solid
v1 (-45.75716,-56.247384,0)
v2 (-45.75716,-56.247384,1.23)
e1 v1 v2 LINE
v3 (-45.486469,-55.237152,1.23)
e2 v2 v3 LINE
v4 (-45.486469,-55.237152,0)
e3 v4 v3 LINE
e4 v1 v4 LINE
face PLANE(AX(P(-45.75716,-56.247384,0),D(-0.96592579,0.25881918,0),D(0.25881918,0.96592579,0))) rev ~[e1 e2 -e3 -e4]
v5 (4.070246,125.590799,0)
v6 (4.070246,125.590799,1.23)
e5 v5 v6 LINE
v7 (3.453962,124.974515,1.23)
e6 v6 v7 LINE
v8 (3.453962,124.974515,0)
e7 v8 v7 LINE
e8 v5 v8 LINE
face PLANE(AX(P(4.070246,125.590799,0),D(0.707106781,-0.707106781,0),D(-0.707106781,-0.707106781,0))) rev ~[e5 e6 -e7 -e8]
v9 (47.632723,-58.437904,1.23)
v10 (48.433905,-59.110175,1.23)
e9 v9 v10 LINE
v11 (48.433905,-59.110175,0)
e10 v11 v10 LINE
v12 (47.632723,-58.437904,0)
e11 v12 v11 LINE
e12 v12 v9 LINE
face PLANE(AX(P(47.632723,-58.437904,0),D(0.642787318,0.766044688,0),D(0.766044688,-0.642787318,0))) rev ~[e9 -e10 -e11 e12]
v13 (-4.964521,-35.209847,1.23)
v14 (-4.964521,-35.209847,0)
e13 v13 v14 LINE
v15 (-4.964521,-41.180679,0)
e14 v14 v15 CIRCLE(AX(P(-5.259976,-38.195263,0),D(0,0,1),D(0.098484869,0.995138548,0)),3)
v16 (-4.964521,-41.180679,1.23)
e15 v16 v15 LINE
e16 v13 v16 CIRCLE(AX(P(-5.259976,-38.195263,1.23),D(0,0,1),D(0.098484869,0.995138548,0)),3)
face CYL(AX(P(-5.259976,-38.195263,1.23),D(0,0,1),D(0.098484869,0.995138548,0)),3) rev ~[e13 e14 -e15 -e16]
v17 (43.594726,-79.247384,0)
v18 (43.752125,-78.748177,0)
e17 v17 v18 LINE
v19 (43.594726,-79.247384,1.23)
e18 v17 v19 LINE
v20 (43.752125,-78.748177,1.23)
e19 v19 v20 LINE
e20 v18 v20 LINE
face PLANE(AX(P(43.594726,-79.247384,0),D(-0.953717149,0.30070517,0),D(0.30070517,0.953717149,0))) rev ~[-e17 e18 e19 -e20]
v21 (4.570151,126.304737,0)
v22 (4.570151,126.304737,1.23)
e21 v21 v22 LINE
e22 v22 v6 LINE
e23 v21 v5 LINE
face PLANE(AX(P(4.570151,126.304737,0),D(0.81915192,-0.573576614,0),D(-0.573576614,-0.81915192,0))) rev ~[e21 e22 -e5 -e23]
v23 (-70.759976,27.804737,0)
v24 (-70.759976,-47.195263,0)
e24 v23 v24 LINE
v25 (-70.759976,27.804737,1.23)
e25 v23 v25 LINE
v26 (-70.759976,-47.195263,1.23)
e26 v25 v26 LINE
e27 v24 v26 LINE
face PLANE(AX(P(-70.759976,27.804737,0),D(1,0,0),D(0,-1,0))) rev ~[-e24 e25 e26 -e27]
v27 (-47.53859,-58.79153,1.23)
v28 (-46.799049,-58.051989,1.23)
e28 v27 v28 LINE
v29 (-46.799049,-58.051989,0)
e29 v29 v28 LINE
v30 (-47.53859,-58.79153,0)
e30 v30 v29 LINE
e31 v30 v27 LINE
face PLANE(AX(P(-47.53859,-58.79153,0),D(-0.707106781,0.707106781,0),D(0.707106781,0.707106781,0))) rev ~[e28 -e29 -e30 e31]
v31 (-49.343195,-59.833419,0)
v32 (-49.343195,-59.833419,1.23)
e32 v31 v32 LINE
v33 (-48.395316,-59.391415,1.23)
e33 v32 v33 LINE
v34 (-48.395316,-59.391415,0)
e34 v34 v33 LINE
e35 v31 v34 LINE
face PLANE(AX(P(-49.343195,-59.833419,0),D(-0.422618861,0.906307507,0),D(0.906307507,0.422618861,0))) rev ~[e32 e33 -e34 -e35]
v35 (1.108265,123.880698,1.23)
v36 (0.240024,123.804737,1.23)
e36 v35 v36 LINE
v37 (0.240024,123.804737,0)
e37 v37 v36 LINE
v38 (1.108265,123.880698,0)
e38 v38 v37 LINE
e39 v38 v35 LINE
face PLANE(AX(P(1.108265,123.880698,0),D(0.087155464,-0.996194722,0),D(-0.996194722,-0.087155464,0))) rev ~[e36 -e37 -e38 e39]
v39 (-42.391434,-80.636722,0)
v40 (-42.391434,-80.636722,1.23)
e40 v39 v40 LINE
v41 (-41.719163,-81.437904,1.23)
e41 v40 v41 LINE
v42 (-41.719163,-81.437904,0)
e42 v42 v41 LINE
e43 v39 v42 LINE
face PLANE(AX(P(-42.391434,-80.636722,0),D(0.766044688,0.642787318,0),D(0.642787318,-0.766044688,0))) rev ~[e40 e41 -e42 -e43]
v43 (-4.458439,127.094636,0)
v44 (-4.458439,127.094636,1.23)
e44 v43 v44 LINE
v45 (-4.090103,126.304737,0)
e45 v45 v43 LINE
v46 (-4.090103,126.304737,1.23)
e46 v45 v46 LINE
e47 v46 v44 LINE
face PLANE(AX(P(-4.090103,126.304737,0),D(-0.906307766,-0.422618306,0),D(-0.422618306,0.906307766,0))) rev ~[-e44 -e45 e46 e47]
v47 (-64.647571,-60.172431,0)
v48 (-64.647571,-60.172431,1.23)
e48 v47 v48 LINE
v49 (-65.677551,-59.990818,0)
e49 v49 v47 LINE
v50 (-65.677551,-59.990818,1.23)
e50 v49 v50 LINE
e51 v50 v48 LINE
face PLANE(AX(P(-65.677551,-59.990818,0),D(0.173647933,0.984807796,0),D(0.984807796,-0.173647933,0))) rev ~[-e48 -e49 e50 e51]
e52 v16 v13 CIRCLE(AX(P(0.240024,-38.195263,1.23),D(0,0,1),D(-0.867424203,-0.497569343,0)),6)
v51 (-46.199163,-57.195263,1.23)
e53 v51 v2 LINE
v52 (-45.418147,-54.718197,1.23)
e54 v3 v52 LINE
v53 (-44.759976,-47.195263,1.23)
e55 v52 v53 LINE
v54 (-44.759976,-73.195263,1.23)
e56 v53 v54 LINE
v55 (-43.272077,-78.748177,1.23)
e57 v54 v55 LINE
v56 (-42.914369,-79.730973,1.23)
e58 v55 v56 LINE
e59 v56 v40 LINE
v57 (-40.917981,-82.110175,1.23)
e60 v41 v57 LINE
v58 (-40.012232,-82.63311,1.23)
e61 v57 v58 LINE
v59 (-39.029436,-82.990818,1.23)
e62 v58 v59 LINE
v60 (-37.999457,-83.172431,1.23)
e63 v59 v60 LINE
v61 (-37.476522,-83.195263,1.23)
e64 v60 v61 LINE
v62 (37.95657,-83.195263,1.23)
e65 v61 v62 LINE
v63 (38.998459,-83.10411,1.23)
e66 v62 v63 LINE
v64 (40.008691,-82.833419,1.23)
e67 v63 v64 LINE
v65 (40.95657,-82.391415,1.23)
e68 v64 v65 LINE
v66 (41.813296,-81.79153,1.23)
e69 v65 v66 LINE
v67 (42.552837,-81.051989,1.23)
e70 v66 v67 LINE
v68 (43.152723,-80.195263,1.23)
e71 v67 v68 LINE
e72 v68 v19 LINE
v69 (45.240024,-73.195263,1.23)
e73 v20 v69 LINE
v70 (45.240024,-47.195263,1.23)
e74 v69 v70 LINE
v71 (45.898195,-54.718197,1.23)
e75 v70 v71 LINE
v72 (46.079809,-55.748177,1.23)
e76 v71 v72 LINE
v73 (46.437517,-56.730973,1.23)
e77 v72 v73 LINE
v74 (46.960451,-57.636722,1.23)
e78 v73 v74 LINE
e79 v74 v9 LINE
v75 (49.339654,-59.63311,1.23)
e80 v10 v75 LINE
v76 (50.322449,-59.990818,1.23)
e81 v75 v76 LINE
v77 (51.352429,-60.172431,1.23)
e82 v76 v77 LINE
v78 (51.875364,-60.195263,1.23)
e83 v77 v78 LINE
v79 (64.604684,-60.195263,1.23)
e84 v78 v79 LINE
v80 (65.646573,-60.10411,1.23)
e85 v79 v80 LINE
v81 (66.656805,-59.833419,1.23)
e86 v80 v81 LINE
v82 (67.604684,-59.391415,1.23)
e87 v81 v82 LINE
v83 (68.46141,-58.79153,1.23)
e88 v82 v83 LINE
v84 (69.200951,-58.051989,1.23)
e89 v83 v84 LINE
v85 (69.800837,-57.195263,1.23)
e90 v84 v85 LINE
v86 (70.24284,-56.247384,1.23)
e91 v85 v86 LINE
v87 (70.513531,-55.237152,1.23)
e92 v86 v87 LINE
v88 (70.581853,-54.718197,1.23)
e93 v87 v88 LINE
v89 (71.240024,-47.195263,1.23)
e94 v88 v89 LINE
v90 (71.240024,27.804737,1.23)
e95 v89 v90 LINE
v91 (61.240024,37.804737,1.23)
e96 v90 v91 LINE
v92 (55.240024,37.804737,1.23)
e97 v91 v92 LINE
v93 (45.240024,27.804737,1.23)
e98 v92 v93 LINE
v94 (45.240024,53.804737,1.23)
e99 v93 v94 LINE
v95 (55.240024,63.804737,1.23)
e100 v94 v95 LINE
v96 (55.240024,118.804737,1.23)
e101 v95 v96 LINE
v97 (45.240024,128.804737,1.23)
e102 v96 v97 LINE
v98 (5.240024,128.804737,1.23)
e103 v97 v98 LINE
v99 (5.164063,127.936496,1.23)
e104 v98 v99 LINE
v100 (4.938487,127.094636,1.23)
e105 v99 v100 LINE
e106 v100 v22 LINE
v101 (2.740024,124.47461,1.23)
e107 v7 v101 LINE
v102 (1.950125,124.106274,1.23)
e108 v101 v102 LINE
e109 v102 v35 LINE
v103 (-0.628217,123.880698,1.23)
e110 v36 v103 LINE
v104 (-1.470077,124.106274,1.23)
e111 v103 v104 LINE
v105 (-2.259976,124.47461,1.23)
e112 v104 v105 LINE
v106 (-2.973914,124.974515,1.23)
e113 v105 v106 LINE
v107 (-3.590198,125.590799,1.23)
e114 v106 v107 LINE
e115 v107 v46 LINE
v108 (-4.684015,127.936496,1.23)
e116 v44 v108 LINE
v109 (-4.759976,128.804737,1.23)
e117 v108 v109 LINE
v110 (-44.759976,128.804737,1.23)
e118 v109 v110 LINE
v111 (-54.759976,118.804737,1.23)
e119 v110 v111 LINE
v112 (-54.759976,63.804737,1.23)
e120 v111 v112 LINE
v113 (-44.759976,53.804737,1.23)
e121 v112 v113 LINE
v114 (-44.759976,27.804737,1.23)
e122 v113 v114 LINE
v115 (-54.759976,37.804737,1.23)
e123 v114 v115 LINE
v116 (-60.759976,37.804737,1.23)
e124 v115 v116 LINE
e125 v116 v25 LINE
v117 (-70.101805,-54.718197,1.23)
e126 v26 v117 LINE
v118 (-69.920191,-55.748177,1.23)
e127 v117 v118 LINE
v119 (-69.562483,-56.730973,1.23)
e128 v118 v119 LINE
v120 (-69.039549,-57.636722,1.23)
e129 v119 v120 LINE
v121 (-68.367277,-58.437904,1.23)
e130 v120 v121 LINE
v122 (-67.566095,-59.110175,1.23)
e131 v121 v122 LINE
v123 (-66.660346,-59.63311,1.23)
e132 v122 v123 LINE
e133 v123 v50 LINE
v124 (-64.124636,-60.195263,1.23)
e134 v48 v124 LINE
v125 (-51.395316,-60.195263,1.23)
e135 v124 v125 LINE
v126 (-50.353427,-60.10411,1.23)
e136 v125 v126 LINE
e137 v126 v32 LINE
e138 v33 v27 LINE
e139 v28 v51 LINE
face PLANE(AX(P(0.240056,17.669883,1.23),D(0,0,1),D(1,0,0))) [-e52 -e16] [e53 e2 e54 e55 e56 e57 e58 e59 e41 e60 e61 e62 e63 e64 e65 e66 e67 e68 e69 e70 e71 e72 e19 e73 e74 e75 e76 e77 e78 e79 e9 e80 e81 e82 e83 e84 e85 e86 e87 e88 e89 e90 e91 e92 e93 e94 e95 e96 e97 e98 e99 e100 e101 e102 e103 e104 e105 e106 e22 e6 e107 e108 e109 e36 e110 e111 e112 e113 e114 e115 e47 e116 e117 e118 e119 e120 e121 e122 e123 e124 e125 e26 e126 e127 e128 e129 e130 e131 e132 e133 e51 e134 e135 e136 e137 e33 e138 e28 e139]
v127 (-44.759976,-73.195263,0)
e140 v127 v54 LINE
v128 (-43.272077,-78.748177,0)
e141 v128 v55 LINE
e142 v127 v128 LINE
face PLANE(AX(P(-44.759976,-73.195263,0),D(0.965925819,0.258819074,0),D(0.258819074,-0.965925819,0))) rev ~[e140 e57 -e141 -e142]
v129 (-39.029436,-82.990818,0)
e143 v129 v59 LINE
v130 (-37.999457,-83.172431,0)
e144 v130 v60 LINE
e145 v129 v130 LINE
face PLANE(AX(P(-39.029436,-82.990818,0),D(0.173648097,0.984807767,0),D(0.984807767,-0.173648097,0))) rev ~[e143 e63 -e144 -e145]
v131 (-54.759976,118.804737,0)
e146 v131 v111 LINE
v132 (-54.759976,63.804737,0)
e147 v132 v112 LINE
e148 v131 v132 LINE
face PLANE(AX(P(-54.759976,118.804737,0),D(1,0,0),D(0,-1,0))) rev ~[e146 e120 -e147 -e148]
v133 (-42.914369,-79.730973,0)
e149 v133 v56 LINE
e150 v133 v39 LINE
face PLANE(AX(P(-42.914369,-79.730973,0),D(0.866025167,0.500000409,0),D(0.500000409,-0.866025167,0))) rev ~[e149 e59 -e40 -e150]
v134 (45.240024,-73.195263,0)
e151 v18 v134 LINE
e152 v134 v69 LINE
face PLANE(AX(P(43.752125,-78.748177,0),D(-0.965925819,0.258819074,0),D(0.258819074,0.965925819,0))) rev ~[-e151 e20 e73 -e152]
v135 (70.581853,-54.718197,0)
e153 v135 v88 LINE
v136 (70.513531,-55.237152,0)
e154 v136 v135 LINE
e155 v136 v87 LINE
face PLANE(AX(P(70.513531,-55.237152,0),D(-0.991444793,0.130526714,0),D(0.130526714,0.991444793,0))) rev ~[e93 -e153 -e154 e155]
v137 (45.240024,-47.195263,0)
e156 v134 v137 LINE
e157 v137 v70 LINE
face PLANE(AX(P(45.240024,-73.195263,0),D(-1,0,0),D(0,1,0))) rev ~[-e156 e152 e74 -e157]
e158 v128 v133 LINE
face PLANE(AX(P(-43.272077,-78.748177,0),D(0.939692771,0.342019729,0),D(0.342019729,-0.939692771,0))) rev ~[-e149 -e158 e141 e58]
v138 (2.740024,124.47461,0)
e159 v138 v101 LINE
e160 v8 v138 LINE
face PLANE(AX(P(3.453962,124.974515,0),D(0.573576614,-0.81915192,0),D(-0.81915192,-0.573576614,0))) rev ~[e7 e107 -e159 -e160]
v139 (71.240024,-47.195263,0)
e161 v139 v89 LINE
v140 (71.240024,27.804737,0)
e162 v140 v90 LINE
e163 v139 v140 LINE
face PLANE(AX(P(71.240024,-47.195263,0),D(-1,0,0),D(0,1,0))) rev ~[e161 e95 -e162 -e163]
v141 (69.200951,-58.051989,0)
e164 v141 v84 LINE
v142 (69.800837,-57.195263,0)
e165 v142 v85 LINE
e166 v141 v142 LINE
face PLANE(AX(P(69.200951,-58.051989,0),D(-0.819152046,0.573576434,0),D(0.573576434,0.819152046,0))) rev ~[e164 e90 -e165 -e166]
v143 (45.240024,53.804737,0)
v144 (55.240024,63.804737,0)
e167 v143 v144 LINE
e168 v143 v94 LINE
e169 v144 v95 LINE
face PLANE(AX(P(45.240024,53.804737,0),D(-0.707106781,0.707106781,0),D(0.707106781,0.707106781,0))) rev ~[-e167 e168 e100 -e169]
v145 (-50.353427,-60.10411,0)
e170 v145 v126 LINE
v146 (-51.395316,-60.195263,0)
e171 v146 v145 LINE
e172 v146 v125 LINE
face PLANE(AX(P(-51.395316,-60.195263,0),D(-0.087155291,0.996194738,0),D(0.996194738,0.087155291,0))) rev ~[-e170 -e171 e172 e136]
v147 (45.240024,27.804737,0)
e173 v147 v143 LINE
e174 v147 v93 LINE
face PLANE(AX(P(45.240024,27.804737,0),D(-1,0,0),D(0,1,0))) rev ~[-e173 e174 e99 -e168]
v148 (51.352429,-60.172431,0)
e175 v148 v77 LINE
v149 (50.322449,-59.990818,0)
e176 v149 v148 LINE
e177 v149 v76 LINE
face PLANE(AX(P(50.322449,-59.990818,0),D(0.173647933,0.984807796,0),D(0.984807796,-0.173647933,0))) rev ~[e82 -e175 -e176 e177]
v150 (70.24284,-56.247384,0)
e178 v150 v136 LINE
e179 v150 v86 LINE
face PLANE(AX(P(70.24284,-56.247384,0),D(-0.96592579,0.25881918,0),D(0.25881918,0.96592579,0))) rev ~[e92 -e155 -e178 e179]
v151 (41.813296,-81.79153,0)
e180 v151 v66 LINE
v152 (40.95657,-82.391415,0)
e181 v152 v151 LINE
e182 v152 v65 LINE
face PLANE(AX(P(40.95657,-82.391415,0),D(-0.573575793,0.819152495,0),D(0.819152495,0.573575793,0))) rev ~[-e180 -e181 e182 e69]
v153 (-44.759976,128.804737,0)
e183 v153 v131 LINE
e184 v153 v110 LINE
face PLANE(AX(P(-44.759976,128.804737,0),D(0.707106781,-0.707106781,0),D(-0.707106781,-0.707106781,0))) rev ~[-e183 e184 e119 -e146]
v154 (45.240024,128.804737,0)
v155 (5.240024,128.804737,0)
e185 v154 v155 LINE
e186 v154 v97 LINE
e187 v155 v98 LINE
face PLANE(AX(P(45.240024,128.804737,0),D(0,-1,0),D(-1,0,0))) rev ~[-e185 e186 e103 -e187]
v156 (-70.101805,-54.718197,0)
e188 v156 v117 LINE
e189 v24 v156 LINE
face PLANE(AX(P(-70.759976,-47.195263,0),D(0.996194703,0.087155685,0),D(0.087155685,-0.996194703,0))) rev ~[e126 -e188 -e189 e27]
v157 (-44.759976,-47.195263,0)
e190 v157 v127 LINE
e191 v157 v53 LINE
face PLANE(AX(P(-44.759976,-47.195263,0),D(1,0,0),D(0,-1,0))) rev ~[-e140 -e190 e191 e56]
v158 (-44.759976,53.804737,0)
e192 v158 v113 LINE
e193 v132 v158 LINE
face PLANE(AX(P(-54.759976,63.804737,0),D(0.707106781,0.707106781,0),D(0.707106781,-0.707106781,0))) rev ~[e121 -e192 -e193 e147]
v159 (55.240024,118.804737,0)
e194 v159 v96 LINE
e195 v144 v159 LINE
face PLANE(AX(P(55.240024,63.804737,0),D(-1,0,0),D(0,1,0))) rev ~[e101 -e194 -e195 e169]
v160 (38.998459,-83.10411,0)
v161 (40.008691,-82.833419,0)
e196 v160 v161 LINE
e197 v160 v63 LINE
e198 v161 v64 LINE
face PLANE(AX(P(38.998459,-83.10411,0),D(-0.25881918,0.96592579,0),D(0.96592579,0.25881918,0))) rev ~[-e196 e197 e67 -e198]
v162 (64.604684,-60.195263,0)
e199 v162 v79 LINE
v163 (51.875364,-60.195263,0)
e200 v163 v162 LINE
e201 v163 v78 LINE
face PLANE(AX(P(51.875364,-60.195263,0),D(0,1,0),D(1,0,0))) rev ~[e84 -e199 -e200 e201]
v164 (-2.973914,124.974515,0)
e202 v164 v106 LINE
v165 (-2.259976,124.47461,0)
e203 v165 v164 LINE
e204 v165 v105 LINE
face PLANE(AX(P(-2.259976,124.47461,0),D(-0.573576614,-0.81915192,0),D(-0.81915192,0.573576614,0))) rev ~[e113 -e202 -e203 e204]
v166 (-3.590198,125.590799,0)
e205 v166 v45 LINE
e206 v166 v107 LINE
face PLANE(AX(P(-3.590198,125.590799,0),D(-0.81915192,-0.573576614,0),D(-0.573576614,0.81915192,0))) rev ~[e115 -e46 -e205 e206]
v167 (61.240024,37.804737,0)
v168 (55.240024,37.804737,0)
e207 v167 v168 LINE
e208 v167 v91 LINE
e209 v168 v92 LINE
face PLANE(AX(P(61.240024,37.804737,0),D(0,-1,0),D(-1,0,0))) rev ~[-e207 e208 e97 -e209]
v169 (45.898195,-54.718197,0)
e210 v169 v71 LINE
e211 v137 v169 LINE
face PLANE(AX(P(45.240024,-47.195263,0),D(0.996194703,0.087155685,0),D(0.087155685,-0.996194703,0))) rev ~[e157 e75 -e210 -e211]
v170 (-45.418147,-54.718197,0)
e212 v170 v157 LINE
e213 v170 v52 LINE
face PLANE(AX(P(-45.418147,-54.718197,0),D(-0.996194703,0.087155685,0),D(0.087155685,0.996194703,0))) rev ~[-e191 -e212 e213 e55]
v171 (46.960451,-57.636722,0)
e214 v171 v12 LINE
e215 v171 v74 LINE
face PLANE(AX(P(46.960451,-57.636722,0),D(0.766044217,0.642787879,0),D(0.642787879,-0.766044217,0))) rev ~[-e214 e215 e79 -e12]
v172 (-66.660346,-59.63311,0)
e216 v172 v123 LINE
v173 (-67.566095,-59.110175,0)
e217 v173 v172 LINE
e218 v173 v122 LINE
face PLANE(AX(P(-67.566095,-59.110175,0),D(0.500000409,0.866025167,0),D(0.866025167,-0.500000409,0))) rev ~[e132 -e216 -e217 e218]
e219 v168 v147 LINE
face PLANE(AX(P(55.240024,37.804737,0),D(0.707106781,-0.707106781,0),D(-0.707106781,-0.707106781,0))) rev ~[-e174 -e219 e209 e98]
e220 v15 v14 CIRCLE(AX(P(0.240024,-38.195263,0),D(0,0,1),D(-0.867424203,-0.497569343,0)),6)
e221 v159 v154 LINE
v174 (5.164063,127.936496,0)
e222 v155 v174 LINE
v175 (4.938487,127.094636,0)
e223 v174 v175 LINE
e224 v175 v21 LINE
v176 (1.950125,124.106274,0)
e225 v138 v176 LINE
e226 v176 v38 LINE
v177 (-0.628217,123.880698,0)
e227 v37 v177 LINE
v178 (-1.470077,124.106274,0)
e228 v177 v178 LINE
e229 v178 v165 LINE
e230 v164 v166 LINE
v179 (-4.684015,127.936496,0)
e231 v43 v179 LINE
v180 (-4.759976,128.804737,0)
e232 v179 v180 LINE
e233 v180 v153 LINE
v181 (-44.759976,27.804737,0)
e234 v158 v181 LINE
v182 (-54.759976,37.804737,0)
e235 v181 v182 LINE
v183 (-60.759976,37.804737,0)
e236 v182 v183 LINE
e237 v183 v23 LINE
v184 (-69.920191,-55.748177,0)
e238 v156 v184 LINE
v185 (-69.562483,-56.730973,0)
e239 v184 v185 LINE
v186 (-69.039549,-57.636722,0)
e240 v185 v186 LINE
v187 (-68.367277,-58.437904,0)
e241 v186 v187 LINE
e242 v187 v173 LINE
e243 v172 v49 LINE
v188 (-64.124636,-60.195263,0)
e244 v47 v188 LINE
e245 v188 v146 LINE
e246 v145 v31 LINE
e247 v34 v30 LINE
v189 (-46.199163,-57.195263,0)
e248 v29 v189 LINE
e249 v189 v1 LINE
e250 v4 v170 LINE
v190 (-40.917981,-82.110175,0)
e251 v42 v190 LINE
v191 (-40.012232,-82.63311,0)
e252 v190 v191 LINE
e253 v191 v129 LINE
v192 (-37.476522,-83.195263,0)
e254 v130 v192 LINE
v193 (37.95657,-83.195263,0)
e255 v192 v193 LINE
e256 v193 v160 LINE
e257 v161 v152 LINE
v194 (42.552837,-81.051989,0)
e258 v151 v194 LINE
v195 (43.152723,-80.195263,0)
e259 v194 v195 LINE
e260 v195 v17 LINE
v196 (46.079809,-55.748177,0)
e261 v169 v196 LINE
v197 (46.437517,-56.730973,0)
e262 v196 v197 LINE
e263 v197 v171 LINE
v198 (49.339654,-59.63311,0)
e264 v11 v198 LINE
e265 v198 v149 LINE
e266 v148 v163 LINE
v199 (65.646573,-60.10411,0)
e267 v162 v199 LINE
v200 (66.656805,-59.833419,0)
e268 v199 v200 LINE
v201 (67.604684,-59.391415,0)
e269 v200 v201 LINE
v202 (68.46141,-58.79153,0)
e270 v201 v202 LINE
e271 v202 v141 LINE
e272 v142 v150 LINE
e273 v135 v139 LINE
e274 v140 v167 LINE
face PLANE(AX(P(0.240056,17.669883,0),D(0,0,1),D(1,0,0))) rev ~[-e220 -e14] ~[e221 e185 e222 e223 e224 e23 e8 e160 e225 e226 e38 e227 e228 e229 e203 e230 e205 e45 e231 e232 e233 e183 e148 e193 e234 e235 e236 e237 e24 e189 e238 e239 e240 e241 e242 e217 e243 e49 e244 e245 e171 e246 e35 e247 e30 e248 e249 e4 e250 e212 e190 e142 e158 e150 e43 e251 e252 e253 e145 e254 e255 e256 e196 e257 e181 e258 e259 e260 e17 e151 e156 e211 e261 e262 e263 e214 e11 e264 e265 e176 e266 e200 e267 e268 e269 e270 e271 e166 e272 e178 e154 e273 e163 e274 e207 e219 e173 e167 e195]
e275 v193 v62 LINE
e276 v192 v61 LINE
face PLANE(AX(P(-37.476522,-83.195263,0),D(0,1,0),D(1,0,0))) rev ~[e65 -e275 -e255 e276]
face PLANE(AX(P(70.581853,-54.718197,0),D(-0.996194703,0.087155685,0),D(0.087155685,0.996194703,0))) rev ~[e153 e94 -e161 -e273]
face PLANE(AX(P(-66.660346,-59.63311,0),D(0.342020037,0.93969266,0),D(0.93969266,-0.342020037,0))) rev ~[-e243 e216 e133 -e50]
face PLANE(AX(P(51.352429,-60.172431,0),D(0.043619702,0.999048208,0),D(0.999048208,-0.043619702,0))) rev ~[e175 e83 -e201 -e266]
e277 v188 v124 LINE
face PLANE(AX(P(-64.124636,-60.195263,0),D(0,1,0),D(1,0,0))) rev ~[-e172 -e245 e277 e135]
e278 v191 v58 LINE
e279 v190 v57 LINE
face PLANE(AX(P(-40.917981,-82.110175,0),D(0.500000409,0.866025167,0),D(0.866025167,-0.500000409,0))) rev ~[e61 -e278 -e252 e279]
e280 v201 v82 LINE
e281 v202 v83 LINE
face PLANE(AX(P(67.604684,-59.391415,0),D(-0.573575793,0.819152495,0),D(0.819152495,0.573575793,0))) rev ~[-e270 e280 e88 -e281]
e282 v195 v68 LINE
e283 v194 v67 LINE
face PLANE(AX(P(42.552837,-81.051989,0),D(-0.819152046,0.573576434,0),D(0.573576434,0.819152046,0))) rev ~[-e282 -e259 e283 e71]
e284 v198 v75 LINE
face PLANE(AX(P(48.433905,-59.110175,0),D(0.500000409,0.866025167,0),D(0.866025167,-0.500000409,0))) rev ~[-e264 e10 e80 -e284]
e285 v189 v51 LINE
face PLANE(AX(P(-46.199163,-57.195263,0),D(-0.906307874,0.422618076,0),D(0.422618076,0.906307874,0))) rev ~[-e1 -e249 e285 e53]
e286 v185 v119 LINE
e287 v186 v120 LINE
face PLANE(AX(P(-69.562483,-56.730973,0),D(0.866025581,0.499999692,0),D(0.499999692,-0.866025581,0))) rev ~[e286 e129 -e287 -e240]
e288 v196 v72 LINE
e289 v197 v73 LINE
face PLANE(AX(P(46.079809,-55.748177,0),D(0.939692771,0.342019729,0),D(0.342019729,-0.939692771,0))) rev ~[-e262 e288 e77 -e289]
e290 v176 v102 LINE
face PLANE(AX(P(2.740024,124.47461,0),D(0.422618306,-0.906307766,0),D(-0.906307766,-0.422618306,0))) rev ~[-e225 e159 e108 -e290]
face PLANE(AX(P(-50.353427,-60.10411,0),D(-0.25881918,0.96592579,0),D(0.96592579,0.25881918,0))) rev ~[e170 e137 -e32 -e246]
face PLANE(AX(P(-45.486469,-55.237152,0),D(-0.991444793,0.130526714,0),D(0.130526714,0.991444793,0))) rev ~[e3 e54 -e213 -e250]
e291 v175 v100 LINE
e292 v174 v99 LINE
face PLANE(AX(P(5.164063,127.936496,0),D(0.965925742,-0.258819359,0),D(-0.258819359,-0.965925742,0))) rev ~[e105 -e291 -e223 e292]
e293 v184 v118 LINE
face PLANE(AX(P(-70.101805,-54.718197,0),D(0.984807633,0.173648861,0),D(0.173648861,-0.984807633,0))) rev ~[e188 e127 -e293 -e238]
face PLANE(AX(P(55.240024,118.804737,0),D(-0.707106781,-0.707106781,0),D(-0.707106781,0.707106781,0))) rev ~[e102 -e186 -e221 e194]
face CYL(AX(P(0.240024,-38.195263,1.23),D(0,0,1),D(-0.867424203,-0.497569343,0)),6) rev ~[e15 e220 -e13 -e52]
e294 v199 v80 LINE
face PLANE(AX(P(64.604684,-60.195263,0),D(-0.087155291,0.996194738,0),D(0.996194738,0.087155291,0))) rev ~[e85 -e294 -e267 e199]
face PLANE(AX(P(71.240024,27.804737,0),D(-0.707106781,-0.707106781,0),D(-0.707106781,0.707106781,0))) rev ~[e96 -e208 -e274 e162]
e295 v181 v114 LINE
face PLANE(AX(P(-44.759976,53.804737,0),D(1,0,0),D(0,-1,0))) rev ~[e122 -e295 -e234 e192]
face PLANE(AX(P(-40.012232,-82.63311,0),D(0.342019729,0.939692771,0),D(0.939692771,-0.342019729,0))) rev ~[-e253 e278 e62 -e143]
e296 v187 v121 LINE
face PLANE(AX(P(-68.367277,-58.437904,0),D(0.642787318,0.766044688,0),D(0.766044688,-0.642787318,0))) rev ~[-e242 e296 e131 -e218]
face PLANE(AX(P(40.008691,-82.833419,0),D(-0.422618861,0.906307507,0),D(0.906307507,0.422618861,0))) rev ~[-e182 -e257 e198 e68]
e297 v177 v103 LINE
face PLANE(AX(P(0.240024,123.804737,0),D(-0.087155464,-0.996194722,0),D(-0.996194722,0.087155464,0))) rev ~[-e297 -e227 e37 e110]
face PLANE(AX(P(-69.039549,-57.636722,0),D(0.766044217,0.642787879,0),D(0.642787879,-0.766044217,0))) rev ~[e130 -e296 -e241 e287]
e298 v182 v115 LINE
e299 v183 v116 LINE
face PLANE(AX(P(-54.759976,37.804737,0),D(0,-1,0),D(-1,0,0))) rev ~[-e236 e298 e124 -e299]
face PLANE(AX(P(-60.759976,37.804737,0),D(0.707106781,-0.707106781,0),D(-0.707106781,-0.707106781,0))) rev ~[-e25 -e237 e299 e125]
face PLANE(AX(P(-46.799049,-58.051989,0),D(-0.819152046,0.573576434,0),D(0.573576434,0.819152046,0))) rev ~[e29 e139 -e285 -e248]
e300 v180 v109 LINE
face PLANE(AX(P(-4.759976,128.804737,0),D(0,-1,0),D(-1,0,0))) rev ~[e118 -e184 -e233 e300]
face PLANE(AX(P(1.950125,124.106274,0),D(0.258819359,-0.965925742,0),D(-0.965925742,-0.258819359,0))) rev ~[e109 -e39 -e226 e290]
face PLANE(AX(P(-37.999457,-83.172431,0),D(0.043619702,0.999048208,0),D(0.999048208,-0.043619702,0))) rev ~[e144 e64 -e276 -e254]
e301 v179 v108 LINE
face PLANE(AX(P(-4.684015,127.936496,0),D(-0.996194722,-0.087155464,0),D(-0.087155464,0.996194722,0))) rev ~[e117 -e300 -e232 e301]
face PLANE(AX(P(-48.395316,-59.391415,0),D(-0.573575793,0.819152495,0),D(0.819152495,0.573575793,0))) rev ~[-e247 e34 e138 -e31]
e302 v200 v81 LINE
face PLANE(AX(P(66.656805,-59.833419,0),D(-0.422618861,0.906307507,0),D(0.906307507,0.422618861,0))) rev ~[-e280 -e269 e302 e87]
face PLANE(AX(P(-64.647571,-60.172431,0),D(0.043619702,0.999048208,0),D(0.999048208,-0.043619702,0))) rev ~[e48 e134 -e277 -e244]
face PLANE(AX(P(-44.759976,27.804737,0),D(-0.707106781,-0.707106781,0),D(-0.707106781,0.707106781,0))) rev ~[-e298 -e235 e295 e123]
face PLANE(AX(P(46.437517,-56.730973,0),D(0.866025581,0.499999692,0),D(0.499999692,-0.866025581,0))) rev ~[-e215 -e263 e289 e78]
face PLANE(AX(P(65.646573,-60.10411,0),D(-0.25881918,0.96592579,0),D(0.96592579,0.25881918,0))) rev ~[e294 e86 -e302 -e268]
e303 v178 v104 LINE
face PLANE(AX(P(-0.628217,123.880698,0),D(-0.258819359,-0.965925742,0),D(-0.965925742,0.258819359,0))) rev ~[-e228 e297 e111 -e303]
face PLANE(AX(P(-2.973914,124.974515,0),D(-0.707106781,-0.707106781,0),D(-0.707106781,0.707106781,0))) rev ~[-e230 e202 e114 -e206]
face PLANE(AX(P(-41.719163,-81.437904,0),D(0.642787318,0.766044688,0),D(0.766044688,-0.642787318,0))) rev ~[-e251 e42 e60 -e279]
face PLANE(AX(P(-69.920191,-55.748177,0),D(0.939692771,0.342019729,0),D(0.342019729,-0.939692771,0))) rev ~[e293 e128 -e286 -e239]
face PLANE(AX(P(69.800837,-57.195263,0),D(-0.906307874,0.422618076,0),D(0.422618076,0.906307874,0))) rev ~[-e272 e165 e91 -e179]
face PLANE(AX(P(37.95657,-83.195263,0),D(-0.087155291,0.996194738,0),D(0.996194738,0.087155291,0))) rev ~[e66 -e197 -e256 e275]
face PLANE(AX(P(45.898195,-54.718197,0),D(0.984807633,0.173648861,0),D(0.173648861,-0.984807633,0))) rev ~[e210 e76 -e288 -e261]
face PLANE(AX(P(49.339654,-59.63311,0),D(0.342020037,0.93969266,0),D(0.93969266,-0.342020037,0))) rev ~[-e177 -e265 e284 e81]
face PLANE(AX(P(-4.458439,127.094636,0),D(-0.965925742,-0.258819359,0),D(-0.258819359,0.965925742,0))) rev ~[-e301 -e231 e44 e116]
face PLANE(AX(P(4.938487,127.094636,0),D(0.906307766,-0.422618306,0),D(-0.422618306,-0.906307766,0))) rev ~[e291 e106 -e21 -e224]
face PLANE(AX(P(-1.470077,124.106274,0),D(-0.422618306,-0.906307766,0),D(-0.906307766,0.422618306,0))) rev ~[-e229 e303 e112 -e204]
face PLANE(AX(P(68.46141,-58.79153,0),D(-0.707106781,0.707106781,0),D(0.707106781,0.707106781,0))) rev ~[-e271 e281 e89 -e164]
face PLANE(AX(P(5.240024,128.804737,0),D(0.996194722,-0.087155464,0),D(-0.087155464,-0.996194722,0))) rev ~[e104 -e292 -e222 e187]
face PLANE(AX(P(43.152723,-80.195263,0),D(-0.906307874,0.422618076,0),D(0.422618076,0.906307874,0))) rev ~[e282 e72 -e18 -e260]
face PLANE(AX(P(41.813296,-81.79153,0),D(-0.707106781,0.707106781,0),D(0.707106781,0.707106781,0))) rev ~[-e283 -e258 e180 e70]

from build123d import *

# Parameters (mm, degrees)
F1_DEPTH = 1.23
F3_DEPTH = 1.231


with BuildPart() as f1:
    # F0 (on Top) → F1 (new body)
    with BuildSketch(Plane.XY):
        Polygon((-70.759976, 27.804737), (-70.759976, -47.195263), (-70.101805, -54.718197), (-69.920191, -55.748177), (-69.562483, -56.730973), (-69.039549, -57.636722), (-68.367277, -58.437904), (-67.566095, -59.110175), (-66.660346, -59.63311), (-65.677551, -59.990818), (-64.647571, -60.172431), (-64.124636, -60.195263), (-51.395316, -60.195263), (-50.353427, -60.10411), (-49.343195, -59.833419), (-48.395316, -59.391415), (-47.53859, -58.79153), (-46.799049, -58.051989), (-46.199163, -57.195263), (-45.75716, -56.247384), (-45.486469, -55.237152), (-45.418147, -54.718197), (-44.759976, -47.195263), (-44.759976, -73.195263), (-43.272077, -78.748177), (-42.914369, -79.730973), (-42.391434, -80.636722), (-41.719163, -81.437904), (-40.917981, -82.110175), (-40.012232, -82.63311), (-39.029436, -82.990818), (-37.999457, -83.172431), (-37.476522, -83.195263), (37.95657, -83.195263), (38.998459, -83.10411), (40.008691, -82.833419), (40.95657, -82.391415), (41.813296, -81.79153), (42.552837, -81.051989), (43.152723, -80.195263), (43.594726, -79.247384), (43.752125, -78.748177), (45.240024, -73.195263), (45.240024, -47.195263), (45.898195, -54.718197), (46.079809, -55.748177), (46.437517, -56.730973), (46.960451, -57.636722), (47.632723, -58.437904), (48.433905, -59.110175), (49.339654, -59.63311), (50.322449, -59.990818), (51.352429, -60.172431), (51.875364, -60.195263), (64.604684, -60.195263), (65.646573, -60.10411), (66.656805, -59.833419), (67.604684, -59.391415), (68.46141, -58.79153), (69.200951, -58.051989), (69.800837, -57.195263), (70.24284, -56.247384), (70.513531, -55.237152), (70.581853, -54.718197), (71.240024, -47.195263), (71.240024, 27.804737), (61.240024, 37.804737), (55.240024, 37.804737), (45.240024, 27.804737), (45.240024, 53.804737), (55.240024, 63.804737), (55.240024, 118.804737), (45.240024, 128.804737), (5.240024, 128.804737), (5.164063, 127.936496), (4.938487, 127.094636), (4.570151, 126.304737), (4.070246, 125.590799), (3.453962, 124.974515), (2.740024, 124.47461), (1.950125, 124.106274), (1.108265, 123.880698), (0.240024, 123.804737), (-0.628217, 123.880698), (-1.470077, 124.106274), (-2.259976, 124.47461), (-2.973914, 124.974515), (-3.590198, 125.590799), (-4.090103, 126.304737), (-4.458439, 127.094636), (-4.684015, 127.936496), (-4.759976, 128.804737), (-44.759976, 128.804737), (-54.759976, 118.804737), (-54.759976, 63.804737), (-44.759976, 53.804737), (-44.759976, 27.804737), (-54.759976, 37.804737), (-60.759976, 37.804737), align=None)
    extrude(amount=F1_DEPTH)

    # F2 (on face) → F3 (cut, through all)
    with BuildSketch(Plane.XY.offset(1.23)):
        with BuildLine():
            ThreePointArc((-4.964521, -35.209847), (-8.259976, -38.195263), (-4.964521, -41.180679))
            ThreePointArc((-4.964521, -41.180679), (6.240024, -38.195263), (-4.964521, -35.209847))
        make_face()
    extrude(amount=-F3_DEPTH, mode=Mode.SUBTRACT)


solid = f1.part
